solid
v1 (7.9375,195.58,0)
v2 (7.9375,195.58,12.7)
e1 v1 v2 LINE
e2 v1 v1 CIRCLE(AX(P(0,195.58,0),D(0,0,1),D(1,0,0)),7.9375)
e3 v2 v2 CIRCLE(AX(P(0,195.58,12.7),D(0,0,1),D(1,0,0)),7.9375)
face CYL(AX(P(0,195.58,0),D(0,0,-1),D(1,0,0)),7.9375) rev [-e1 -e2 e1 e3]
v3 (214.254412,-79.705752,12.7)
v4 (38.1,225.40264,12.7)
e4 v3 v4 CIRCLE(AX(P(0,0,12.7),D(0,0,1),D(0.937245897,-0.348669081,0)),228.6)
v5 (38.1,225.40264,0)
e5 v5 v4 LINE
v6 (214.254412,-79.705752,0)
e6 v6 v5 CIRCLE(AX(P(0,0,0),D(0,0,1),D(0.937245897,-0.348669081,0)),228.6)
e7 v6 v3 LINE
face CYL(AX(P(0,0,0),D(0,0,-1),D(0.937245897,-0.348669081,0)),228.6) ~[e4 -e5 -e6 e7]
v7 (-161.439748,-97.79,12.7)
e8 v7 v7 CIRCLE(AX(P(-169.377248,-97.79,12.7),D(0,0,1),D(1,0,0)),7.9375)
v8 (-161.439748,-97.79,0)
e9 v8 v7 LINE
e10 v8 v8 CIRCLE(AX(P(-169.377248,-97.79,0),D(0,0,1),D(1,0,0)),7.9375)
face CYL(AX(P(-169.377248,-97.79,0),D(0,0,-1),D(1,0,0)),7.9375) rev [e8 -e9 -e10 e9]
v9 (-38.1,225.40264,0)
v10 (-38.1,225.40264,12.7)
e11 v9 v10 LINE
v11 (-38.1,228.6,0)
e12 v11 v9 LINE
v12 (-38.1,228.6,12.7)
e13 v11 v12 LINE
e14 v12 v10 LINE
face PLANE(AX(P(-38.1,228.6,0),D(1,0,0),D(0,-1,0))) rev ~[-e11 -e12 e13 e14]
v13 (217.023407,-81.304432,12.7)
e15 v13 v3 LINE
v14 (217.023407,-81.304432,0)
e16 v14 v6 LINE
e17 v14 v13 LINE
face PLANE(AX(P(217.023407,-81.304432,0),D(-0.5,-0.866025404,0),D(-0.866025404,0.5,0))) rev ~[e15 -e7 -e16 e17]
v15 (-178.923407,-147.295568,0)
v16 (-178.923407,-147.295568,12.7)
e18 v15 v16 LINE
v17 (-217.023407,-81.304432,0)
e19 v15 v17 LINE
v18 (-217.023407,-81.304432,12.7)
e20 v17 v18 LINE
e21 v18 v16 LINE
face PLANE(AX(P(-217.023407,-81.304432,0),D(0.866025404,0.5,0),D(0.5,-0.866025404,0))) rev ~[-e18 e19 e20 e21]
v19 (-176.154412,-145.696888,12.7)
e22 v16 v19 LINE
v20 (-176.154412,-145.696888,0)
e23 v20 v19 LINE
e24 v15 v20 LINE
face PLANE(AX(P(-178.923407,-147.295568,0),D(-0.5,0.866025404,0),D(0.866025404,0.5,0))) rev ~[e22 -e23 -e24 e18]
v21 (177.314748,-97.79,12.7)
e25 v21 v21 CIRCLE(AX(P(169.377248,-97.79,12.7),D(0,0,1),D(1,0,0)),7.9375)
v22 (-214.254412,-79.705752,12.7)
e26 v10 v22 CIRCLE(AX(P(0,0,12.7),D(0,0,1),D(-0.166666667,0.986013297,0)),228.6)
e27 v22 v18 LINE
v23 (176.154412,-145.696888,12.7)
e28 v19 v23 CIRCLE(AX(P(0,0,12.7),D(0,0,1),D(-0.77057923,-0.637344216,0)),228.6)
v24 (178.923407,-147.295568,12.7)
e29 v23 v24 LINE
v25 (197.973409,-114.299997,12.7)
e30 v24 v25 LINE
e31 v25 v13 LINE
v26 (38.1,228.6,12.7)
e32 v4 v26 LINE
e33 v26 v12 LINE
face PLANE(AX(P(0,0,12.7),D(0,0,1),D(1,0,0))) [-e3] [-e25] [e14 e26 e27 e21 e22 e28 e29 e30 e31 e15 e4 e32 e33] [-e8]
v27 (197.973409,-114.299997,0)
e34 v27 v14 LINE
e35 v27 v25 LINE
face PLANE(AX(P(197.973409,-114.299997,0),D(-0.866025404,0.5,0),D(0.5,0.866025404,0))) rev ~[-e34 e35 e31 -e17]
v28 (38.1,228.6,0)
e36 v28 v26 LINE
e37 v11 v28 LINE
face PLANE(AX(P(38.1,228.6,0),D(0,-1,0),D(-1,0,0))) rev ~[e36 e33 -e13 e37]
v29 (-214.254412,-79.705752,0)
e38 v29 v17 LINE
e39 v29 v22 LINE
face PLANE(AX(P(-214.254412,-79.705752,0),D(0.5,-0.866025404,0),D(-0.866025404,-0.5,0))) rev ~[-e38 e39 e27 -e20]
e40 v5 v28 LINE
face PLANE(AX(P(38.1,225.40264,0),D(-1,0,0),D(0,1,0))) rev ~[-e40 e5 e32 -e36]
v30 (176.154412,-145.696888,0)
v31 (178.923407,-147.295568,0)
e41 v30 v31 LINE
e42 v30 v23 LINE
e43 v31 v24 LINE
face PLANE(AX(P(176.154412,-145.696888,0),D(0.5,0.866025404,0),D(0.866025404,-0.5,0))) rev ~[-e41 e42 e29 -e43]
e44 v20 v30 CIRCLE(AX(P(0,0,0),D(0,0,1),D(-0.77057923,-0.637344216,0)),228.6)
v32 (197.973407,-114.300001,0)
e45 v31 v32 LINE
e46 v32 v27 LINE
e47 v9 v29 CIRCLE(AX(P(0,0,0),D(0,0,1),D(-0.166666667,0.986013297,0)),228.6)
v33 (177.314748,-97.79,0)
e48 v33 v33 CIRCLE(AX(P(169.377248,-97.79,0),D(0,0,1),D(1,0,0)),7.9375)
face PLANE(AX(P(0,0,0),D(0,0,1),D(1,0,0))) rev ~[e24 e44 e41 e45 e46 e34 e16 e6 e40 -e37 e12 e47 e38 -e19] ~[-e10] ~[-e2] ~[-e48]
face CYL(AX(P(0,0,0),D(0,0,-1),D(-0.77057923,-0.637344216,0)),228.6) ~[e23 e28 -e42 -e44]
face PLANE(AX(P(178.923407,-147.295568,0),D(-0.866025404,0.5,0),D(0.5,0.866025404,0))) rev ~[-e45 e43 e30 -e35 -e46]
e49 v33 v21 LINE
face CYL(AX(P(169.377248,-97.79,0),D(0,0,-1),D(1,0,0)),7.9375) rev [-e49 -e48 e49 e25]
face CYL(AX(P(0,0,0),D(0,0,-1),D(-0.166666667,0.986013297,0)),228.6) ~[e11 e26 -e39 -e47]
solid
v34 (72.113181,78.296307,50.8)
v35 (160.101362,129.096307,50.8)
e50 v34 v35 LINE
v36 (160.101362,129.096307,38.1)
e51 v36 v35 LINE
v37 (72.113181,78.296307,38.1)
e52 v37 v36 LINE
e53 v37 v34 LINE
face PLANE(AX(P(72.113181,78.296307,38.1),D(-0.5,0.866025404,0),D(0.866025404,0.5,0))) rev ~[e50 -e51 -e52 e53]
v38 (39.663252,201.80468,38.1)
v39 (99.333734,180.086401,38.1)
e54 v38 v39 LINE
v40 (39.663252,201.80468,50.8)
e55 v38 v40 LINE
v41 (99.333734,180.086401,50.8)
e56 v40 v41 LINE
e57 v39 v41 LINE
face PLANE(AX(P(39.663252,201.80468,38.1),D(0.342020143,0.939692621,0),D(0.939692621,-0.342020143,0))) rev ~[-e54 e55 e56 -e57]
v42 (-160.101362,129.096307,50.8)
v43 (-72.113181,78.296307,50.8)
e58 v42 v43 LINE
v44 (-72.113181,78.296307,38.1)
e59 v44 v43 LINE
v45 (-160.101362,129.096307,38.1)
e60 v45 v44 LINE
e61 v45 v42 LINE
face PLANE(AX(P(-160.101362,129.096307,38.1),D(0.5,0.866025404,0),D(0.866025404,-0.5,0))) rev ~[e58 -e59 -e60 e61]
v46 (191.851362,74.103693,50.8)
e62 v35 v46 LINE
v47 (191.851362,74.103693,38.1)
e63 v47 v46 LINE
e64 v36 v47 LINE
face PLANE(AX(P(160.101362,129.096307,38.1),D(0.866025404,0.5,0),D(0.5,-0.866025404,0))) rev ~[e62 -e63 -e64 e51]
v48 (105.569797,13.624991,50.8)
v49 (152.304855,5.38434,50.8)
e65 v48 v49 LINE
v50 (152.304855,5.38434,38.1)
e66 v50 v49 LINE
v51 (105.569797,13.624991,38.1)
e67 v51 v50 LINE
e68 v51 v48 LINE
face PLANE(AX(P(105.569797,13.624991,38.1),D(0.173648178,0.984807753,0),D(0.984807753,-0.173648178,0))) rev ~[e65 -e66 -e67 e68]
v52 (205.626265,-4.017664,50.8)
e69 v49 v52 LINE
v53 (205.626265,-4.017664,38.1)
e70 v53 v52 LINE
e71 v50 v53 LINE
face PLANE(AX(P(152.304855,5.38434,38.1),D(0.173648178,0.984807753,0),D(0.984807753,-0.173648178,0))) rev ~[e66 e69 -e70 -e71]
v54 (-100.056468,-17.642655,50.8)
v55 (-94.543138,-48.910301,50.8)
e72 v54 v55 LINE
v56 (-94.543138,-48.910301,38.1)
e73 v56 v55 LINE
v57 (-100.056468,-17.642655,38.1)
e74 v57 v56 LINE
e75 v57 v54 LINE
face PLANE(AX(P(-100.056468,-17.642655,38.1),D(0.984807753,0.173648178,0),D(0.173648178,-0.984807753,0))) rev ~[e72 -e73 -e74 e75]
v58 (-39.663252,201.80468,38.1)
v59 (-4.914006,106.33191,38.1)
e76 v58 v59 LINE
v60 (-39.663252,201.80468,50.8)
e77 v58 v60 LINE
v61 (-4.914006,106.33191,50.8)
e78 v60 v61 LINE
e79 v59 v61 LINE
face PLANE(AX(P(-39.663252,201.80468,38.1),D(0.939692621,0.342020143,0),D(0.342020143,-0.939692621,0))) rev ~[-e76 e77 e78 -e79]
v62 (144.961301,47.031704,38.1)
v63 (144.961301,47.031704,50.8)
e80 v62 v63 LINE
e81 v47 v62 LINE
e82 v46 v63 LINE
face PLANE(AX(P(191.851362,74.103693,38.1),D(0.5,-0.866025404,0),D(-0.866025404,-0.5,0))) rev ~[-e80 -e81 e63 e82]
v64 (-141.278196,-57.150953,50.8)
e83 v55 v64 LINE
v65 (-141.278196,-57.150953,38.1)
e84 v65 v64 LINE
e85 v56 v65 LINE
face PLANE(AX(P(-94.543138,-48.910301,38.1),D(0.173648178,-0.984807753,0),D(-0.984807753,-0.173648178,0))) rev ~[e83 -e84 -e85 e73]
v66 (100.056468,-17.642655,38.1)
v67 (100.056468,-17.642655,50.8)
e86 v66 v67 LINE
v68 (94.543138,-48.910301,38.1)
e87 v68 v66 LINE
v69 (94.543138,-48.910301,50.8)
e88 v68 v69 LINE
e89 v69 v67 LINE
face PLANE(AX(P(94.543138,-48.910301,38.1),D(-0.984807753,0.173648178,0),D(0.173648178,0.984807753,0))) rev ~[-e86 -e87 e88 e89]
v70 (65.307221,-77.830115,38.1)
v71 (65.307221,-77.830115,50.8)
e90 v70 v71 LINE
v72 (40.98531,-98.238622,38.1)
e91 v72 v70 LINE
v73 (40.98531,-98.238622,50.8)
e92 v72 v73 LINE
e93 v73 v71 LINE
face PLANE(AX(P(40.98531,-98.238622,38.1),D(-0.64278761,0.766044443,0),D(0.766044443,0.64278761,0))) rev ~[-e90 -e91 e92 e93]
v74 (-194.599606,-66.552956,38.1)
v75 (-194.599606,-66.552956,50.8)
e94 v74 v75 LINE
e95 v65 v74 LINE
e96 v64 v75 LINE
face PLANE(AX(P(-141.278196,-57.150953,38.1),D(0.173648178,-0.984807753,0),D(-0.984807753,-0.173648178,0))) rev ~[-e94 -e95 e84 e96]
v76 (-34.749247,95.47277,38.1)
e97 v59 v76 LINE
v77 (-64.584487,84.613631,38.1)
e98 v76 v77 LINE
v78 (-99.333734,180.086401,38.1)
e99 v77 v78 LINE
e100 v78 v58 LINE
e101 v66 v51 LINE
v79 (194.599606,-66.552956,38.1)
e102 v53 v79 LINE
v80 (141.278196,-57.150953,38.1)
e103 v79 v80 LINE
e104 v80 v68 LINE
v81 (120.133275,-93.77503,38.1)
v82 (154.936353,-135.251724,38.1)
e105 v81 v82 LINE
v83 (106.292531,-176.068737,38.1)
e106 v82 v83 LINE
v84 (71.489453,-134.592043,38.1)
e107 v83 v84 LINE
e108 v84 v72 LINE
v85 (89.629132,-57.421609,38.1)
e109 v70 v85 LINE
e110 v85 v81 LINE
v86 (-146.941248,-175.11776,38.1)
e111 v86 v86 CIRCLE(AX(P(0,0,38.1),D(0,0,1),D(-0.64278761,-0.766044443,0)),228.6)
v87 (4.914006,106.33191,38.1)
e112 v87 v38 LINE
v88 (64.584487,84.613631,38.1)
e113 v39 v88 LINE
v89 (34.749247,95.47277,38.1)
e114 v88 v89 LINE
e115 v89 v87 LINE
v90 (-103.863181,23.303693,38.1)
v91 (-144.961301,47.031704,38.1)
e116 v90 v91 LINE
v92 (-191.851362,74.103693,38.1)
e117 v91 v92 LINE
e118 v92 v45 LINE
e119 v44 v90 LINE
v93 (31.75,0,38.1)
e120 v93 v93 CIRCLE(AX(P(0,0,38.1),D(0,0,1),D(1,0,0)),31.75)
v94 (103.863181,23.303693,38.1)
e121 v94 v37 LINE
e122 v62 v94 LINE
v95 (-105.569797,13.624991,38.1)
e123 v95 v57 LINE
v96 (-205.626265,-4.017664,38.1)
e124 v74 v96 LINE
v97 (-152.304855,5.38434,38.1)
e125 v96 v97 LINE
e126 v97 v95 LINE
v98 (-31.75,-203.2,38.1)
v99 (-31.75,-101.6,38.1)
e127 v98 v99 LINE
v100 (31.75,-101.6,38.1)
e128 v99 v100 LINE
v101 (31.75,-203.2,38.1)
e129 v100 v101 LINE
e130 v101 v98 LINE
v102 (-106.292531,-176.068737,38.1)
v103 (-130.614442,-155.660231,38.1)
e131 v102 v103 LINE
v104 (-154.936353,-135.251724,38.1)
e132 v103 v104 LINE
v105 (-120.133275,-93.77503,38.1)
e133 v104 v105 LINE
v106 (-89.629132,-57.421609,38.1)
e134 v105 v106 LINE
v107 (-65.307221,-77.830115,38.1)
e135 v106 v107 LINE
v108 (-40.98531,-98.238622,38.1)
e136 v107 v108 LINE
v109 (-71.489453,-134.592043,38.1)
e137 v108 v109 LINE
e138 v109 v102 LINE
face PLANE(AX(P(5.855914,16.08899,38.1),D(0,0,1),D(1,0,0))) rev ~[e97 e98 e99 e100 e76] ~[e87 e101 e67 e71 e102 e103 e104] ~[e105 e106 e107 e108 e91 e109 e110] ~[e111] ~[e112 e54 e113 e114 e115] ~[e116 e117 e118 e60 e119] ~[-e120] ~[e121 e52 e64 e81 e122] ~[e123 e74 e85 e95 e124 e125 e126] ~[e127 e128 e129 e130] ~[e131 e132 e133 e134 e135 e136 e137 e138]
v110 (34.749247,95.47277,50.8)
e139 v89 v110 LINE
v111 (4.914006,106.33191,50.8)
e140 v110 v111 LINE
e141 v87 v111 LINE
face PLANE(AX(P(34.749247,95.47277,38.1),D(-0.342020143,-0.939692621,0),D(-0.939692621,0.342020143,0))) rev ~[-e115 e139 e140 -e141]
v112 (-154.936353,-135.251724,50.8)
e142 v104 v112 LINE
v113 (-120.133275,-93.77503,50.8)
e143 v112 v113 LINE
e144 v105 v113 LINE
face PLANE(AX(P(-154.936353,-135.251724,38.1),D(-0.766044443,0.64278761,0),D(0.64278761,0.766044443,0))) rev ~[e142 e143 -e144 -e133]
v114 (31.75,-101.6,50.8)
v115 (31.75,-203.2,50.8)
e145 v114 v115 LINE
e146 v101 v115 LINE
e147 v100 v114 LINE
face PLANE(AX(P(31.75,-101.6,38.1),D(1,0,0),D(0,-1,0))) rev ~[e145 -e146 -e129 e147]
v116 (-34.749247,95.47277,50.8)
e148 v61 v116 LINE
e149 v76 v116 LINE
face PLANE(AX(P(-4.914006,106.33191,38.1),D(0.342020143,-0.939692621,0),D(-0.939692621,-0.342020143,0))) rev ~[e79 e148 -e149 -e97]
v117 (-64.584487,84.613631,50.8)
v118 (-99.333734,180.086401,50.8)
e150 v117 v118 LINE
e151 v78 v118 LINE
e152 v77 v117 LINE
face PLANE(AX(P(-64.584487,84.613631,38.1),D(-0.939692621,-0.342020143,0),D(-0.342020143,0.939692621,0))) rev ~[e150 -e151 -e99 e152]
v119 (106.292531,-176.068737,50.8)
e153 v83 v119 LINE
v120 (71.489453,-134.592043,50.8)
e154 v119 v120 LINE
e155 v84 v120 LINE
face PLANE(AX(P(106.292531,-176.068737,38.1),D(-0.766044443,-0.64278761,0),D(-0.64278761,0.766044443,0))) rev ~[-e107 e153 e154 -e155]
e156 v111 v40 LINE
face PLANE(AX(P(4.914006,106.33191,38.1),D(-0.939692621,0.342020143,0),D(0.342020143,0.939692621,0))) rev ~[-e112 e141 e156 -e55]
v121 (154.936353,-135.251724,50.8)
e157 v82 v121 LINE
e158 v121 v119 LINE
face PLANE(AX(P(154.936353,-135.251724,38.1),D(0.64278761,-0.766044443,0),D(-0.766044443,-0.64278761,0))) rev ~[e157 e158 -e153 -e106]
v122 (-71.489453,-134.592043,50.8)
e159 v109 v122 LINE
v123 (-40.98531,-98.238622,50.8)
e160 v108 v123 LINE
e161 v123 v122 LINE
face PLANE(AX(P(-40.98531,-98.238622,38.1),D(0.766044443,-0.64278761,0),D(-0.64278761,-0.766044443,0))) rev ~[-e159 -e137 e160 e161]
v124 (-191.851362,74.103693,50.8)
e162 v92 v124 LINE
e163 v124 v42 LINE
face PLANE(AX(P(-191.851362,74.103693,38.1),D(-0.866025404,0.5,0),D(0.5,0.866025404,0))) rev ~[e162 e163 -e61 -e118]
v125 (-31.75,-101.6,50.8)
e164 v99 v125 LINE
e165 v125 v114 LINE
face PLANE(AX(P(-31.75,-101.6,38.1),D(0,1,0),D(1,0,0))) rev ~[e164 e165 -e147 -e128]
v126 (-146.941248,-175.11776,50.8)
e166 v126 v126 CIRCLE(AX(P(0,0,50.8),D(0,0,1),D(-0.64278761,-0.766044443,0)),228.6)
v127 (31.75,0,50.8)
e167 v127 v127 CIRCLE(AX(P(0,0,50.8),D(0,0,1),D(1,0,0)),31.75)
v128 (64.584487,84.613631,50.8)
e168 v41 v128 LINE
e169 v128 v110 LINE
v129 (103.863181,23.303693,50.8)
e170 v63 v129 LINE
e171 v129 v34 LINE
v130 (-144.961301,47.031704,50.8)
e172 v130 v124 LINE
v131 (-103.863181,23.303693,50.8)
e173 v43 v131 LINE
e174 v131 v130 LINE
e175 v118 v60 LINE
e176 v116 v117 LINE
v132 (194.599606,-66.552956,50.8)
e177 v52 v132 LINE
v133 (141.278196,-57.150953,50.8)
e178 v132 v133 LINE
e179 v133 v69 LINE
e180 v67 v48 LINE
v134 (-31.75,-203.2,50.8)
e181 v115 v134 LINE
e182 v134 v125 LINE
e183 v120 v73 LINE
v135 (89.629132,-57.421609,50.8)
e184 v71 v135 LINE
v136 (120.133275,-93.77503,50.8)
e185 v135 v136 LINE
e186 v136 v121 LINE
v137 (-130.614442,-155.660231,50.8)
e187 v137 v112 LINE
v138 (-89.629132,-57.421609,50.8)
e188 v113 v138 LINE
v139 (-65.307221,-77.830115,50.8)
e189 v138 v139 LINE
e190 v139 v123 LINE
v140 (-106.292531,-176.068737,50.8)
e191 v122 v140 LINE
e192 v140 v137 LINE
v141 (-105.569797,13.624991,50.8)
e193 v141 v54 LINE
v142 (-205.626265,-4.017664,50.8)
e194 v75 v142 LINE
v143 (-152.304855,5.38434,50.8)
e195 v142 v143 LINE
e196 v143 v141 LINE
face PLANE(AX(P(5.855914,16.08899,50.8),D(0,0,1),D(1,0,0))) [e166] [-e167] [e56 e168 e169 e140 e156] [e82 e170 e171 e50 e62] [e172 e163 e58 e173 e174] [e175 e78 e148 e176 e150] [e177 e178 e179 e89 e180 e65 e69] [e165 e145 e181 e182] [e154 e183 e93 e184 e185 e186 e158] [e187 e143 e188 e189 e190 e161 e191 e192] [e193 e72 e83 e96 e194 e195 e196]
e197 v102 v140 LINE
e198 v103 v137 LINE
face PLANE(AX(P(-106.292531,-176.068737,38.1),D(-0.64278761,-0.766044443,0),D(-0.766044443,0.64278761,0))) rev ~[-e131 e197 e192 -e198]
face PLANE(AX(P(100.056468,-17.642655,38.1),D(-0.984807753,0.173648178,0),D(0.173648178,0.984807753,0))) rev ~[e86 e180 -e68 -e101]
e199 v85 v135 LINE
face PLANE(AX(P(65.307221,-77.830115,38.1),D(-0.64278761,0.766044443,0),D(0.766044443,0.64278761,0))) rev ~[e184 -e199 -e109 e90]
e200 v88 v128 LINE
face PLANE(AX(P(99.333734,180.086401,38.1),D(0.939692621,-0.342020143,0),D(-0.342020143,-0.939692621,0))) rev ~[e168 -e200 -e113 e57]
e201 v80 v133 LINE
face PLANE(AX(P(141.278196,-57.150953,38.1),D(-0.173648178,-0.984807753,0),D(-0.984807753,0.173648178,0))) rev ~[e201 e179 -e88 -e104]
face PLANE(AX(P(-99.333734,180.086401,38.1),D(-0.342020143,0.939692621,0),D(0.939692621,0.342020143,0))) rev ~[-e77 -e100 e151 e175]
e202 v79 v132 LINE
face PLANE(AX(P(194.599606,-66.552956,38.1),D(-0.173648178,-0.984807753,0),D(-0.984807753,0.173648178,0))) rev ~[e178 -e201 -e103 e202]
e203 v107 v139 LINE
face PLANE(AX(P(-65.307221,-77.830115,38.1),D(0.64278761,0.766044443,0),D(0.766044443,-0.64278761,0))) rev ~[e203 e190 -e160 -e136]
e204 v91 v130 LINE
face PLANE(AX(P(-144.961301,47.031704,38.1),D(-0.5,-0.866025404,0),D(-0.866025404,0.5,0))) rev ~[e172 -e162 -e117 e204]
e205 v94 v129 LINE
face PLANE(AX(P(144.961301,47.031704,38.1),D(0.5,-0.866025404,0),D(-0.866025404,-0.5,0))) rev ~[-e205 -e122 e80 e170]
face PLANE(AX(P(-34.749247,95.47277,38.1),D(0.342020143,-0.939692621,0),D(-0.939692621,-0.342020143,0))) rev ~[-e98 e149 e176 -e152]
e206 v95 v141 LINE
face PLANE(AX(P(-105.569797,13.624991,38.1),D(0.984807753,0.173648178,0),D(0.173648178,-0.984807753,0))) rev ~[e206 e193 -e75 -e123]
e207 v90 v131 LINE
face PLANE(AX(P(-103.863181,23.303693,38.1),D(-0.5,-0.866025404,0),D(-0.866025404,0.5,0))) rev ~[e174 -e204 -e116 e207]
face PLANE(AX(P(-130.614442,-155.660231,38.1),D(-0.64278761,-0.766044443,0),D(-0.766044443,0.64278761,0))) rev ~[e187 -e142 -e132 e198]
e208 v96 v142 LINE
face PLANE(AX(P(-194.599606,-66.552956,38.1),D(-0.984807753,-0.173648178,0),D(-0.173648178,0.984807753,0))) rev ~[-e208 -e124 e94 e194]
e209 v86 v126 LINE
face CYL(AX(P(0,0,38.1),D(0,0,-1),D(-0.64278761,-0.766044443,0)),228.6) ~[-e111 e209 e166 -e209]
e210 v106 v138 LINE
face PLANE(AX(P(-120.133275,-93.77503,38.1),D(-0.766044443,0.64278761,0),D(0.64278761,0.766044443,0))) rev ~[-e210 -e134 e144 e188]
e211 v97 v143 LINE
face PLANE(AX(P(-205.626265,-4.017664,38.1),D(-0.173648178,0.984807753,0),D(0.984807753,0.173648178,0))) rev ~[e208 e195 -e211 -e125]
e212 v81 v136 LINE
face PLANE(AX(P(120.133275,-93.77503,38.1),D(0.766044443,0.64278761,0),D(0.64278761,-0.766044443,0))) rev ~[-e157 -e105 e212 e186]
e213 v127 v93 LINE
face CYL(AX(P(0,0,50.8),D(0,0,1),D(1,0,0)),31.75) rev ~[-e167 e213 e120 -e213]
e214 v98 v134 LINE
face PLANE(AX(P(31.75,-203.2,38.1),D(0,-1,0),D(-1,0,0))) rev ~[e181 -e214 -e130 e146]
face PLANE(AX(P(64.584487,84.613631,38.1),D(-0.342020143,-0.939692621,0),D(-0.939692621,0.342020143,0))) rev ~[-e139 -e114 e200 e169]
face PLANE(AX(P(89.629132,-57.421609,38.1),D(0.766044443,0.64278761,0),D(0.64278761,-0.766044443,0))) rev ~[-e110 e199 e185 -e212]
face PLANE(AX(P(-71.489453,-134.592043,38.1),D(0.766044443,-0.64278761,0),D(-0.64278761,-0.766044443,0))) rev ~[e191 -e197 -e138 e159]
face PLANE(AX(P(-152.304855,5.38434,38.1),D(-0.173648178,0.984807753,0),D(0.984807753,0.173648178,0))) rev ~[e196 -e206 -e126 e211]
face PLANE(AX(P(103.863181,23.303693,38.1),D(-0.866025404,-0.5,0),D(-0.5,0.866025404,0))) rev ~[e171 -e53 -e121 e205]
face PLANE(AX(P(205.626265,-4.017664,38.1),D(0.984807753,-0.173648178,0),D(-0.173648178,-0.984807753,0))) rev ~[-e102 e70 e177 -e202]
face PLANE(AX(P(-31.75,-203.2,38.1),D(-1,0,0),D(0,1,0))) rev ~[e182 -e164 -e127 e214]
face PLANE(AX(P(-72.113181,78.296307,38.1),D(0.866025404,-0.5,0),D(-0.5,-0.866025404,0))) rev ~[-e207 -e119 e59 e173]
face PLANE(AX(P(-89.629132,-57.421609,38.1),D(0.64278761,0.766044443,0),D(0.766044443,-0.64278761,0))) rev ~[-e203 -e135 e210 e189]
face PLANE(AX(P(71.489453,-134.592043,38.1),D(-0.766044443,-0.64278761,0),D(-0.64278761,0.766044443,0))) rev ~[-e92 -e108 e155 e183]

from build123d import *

# Parameters (mm, degrees)
F0_R     = 7.9375
F1_DEPTH = 12.7
F2_R     = 7.9375
F3_DEPTH = 12.7
F6_DEPTH = 12.7
F7_R     = 31.75
F8_DEPTH = 25.4


with BuildPart() as f1:
    # F0 (on Top) → F1 (new body)
    with BuildSketch(Plane.XY):
        with BuildLine():
            Line((-38.1, 225.4026397361), (-38.1, 147.5606654905))
            ThreePointArc((-38.1, 147.5606654905), (-131.9822715367, 76.2), (-146.8412849141, -40.7847648611))
            Line((-146.8412849141, -40.7847648611), (-214.2544120915, -79.7057519839))
            ThreePointArc((-214.2544120915, -79.7057519839), (-206.8384260613, -97.343851909), (-197.9734085849, -114.2999977833))
            ThreePointArc((-197.9734085849, -114.2999977833), (-187.7214631468, -130.4554033915), (-176.1544120915, -145.6968877522))
            Line((-176.1544120915, -145.6968877522), (-108.7412849141, -106.7759006294))
            ThreePointArc((-108.7412849141, -106.7759006294), (0, -152.4), (108.7412849141, -106.7759006294))
            Line((108.7412849141, -106.7759006294), (176.1544120915, -145.6968877522))
            ThreePointArc((176.1544120915, -145.6968877522), (187.7214632552, -130.4554032355), (197.973408775, -114.2999974542))
            ThreePointArc((197.973408775, -114.2999974542), (206.8384261422, -97.343851737), (214.2544120915, -79.7057519839))
            Line((214.2544120915, -79.7057519839), (146.8412849141, -40.7847648611))
            ThreePointArc((146.8412849141, -40.7847648611), (131.9822715367, 76.2), (38.1, 147.5606654905))
            Line((38.1, 147.5606654905), (38.1, 225.4026397361))
            ThreePointArc((38.1, 225.4026397361), (19.1169634699, 227.7992574784), (7.425e-07, 228.6))
            ThreePointArc((7.425e-07, 228.6), (-19.11696273, 227.7992575405), (-38.1, 225.4026397361))
        make_face()
        with Locations((-169.3772484722, -97.79)):
            Circle(F0_R, mode=Mode.SUBTRACT)
        with Locations((169.3772484722, -97.79)):
            Circle(F0_R, mode=Mode.SUBTRACT)
        with Locations((0, 195.58)):
            Circle(F0_R, mode=Mode.SUBTRACT)
        with BuildLine():
            ThreePointArc((-146.8412849141, -40.7847648611), (-131.9822715367, 76.2), (-38.1, 147.5606654905))
            Line((-38.1, 147.5606654905), (-38.1, 225.4026397361))
            ThreePointArc((-38.1, 225.4026397361), (-197.9734073051, 114.3), (-214.2544120915, -79.7057519839))
            Line((-214.2544120915, -79.7057519839), (-146.8412849141, -40.7847648611))
        make_face()
        with BuildLine():
            Line((-38.1, 228.6), (-38.1, 225.4026397361))
            ThreePointArc((-38.1, 225.4026397361), (-19.11696273, 227.7992575405), (7.425e-07, 228.6))
            Line((7.425e-07, 228.6), (-38.1, 228.6))
        make_face()
        with BuildLine():
            ThreePointArc((-197.9734085849, -114.2999977833), (-206.8384260613, -97.343851909), (-214.2544120915, -79.7057519839))
            Line((-214.2544120915, -79.7057519839), (-217.0234073051, -81.3044321158))
            Line((-217.0234073051, -81.3044321158), (-197.9734085849, -114.2999977833))
        make_face()
        with BuildLine():
            Line((38.1, 228.6), (7.425e-07, 228.6))
            ThreePointArc((7.425e-07, 228.6), (19.1169634699, 227.7992574784), (38.1, 225.4026397361))
            Line((38.1, 225.4026397361), (38.1, 228.6))
        make_face()
        with BuildLine():
            ThreePointArc((-176.1544120915, -145.6968877522), (-187.7214631468, -130.4554033915), (-197.9734085849, -114.2999977833))
            Line((-197.9734085849, -114.2999977833), (-178.9234073051, -147.2955678842))
            Line((-178.9234073051, -147.2955678842), (-176.1544120915, -145.6968877522))
        make_face()
        with BuildLine():
            ThreePointArc((228.6, 0), (174.5961339778, 147.5606654905), (38.1, 225.4026397361))
            Line((38.1, 225.4026397361), (38.1, 147.5606654905))
            ThreePointArc((38.1, 147.5606654905), (131.9822715367, 76.2), (146.8412849141, -40.7847648611))
            Line((146.8412849141, -40.7847648611), (214.2544120915, -79.7057519839))
            ThreePointArc((214.2544120915, -79.7057519839), (224.9850201726, -40.4932179252), (228.6, 0))
        make_face()
        with BuildLine():
            Line((-108.7412849141, -106.7759006294), (-176.1544120915, -145.6968877522))
            ThreePointArc((-176.1544120915, -145.6968877522), (0, -228.6), (176.1544120915, -145.6968877522))
            Line((176.1544120915, -145.6968877522), (108.7412849141, -106.7759006294))
            ThreePointArc((108.7412849141, -106.7759006294), (0, -152.4), (-108.7412849141, -106.7759006294))
        make_face()
        with BuildLine():
            ThreePointArc((197.973408775, -114.2999974542), (187.7214632552, -130.4554032355), (176.1544120915, -145.6968877522))
            Line((176.1544120915, -145.6968877522), (178.9234073051, -147.2955678842))
            Line((178.9234073051, -147.2955678842), (197.973408775, -114.2999974542))
        make_face()
        with BuildLine():
            Line((217.0234073051, -81.3044321158), (214.2544120915, -79.7057519839))
            ThreePointArc((214.2544120915, -79.7057519839), (206.8384261422, -97.343851737), (197.973408775, -114.2999974542))
            Line((197.973408775, -114.2999974542), (217.0234073051, -81.3044321158))
        make_face()
    extrude(amount=F1_DEPTH)

    # F2 (on face) → F3 (join)
    with BuildSketch(Plane.XY.offset(12.7)):
        with BuildLine():
            ThreePointArc((214.2544120915, -79.7057519839), (224.9850201726, -40.4932179252), (228.6, 0))
            ThreePointArc((228.6, 0), (174.5961339778, 147.5606654905), (38.1, 225.4026397361))
            ThreePointArc((38.1, 225.4026397361), (19.1169634699, 227.7992574784), (7.425e-07, 228.6))
            ThreePointArc((7.425e-07, 228.6), (-19.11696273, 227.7992575405), (-38.1, 225.4026397361))
            ThreePointArc((-38.1, 225.4026397361), (-197.9734073051, 114.3), (-214.2544120915, -79.7057519839))
            ThreePointArc((-214.2544120915, -79.7057519839), (-206.8384257006, -97.3438526754), (-197.9734077379, -114.2999992504))
            ThreePointArc((-197.9734077379, -114.2999992504), (-187.7214626634, -130.4554040871), (-176.1544120915, -145.6968877522))
            ThreePointArc((-176.1544120915, -145.6968877522), (0, -228.6), (176.1544120915, -145.6968877522))
            ThreePointArc((176.1544120915, -145.6968877522), (187.7214619736, -130.4554050796), (197.9734065292, -114.3000013439))
            ThreePointArc((197.9734065292, -114.3000013439), (206.8384251859, -97.343853769), (214.2544120915, -79.7057519839))
        make_face()
        with Locations((-169.3772484722, -97.79)):
            Circle(F2_R, mode=Mode.SUBTRACT)
        with Locations((169.3772484722, -97.79)):
            Circle(F2_R, mode=Mode.SUBTRACT)
        Polygon((56.9597219464, 89.9039963502), (26.2960149824, 98.138063951), (-4.3721300023, 106.355568633), (21.9238849802, 204.4936325839), (83.2601749495, 188.0586232199), (56.9641599671, 89.920559269), align=None, mode=Mode.SUBTRACT)
        with Locations((0, 195.58)):
            Circle(F2_R, mode=Mode.SUBTRACT)
        Polygon((-4.3721300023, 106.355568633), (26.2960149824, 98.138063951), (56.9597219464, 89.9039963502), (56.9641599671, 89.920559269), (83.2601749495, 188.0586232199), (21.9238849802, 204.4936325839), align=None)
    extrude(amount=-F3_DEPTH)


with BuildPart() as f6:
    # F5 (on offset) → F6 (new body)
    with BuildSketch(Plane.XY.offset(38.1)):
        with BuildLine():
            ThreePointArc((0, -228.6), (161.6446101792, -161.6446101792), (228.6, 0))
            ThreePointArc((228.6, 0), (-96.6105346339, 207.1819601166), (-146.9412475743, -175.117759697))
            Line((-146.9412475743, -175.117759697), (-130.6144422883, -155.6602308418))
            Line((-130.6144422883, -155.6602308418), (-154.9363533573, -135.2517242342))
            Line((-154.9363533573, -135.2517242342), (-120.1332747405, -93.7750302593))
            ThreePointArc((-120.1332747405, -93.7750302593), (-131.9822715367, -76.2), (-141.2781958154, -57.1509526354))
            Line((-141.2781958154, -57.1509526354), (-194.5996057712, -66.5529558601))
            Line((-194.5996057712, -66.5529558601), (-205.626265053, -4.0176635438))
            Line((-205.626265053, -4.0176635438), (-152.3048550973, 5.3843396808))
            ThreePointArc((-152.3048550973, 5.3843396808), (-150.0847015591, 26.4639822764), (-144.9613010741, 47.0317041037))
            Line((-144.9613010741, 47.0317041037), (-191.851362049, 74.1036934298))
            Line((-191.851362049, 74.1036934298), (-160.101362049, 129.0963065702))
            Line((-160.101362049, 129.0963065702), (-113.2113010741, 102.024317244))
            ThreePointArc((-113.2113010741, 102.024317244), (-97.9608317162, 116.7451731313), (-80.8154024948, 129.2077037935))
            Line((-80.8154024948, 129.2077037935), (-99.3337338337, 180.0864009931))
            Line((-99.3337338337, 180.0864009931), (-39.6632524138, 201.8046800943))
            Line((-39.6632524138, 201.8046800943), (-21.1449210749, 150.9259828947))
            ThreePointArc((-21.1449210749, 150.9259828947), (0, 152.4), (21.1449210749, 150.9259828947))
            Line((21.1449210749, 150.9259828947), (39.6632524138, 201.8046800943))
            Line((39.6632524138, 201.8046800943), (99.3337338337, 180.0864009931))
            Line((99.3337338337, 180.0864009931), (80.8154024948, 129.2077037935))
            ThreePointArc((80.8154024948, 129.2077037935), (97.9608317162, 116.7451731313), (113.2113010741, 102.024317244))
            Line((113.2113010741, 102.024317244), (160.101362049, 129.0963065702))
            Line((160.101362049, 129.0963065702), (191.851362049, 74.1036934298))
            Line((191.851362049, 74.1036934298), (144.9613010741, 47.0317041037))
            ThreePointArc((144.9613010741, 47.0317041037), (150.0847015591, 26.4639822764), (152.3048550973, 5.3843396808))
            Line((152.3048550973, 5.3843396808), (205.626265053, -4.0176635438))
            Line((205.626265053, -4.0176635438), (194.5996057712, -66.5529558601))
            Line((194.5996057712, -66.5529558601), (141.2781958154, -57.1509526354))
            ThreePointArc((141.2781958154, -57.1509526354), (131.9822715368, -76.2), (120.1332747405, -93.7750302593))
            Line((120.1332747405, -93.7750302593), (154.9363533573, -135.2517242342))
            Line((154.9363533573, -135.2517242342), (106.2925312193, -176.0687374493))
            Line((106.2925312193, -176.0687374493), (71.4894526024, -134.5920434744))
            ThreePointArc((71.4894526024, -134.5920434744), (52.1238698428, -143.2091554078), (31.75, -149.0560213477))
            Line((31.75, -149.0560213477), (31.75, -203.2))
            Line((31.75, -203.2), (0, -203.2))
            Line((0, -203.2), (0, -228.6))
        make_face()
        with BuildLine():
            Line((-130.6144422883, -155.6602308418), (-146.9412475743, -175.117759697))
            ThreePointArc((-146.9412475743, -175.117759697), (-78.1858047642, -214.8137331117), (0, -228.6))
            Line((0, -228.6), (0, -203.2))
            Line((0, -203.2), (-31.75, -203.2))
            Line((-31.75, -203.2), (-31.75, -149.0560213477))
            ThreePointArc((-31.75, -149.0560213477), (-52.1238698428, -143.2091554078), (-71.4894526024, -134.5920434744))
            Line((-71.4894526024, -134.5920434744), (-106.2925312193, -176.0687374493))
            Line((-106.2925312193, -176.0687374493), (-130.6144422883, -155.6602308418))
        make_face()
        with BuildLine():
            Line((0, 0), (-65.3072211442, -77.8301154209))
            Line((-65.3072211442, -77.8301154209), (-40.9853100751, -98.2386220284))
            Line((-40.9853100751, -98.2386220284), (-71.4894526024, -134.5920434744))
            ThreePointArc((-71.4894526024, -134.5920434744), (-52.1238698428, -143.2091554078), (-31.75, -149.0560213477))
            Line((-31.75, -149.0560213477), (-31.75, -101.6))
            Line((-31.75, -101.6), (0, -101.6))
            Line((0, -101.6), (0, 0))
        make_face()
        with BuildLine():
            Line((-89.6291322132, -57.4216088133), (-65.3072211442, -77.8301154209))
            Line((-65.3072211442, -77.8301154209), (0, 0))
            Line((0, 0), (0, -101.6))
            Line((0, -101.6), (31.75, -101.6))
            Line((31.75, -101.6), (31.75, -149.0560213477))
            ThreePointArc((31.75, -149.0560213477), (52.1238698428, -143.2091554078), (71.4894526024, -134.5920434744))
            Line((71.4894526024, -134.5920434744), (40.9853100751, -98.2386220284))
            Line((40.9853100751, -98.2386220284), (65.3072211442, -77.8301154209))
            Line((65.3072211442, -77.8301154209), (89.6291322132, -57.4216088133))
            Line((89.6291322132, -57.4216088133), (120.1332747405, -93.7750302593))
            ThreePointArc((120.1332747405, -93.7750302593), (131.9822715368, -76.2), (141.2781958154, -57.1509526354))
            Line((141.2781958154, -57.1509526354), (94.5431380651, -48.9103010091))
            Line((94.5431380651, -48.9103010091), (100.056467706, -17.642654851))
            Line((100.056467706, -17.642654851), (105.569797347, 13.6249913072))
            Line((105.569797347, 13.6249913072), (152.3048550973, 5.3843396808))
            ThreePointArc((152.3048550973, 5.3843396808), (150.0847015591, 26.4639822764), (144.9613010741, 47.0317041037))
            Line((144.9613010741, 47.0317041037), (103.8631810245, 23.3036934298))
            Line((103.8631810245, 23.3036934298), (87.9881810245, 50.8))
            Line((87.9881810245, 50.8), (72.1131810245, 78.2963065702))
            Line((72.1131810245, 78.2963065702), (113.2113010741, 102.024317244))
            ThreePointArc((113.2113010741, 102.024317244), (97.9608317162, 116.7451731313), (80.8154024948, 129.2077037935))
            Line((80.8154024948, 129.2077037935), (64.5844872718, 84.6136307213))
            Line((64.5844872718, 84.6136307213), (34.7492465619, 95.4727702718))
            Line((34.7492465619, 95.4727702718), (4.9140058519, 106.3319098224))
            Line((4.9140058519, 106.3319098224), (21.1449210749, 150.9259828947))
            ThreePointArc((21.1449210749, 150.9259828947), (0, 152.4), (-21.1449210749, 150.9259828947))
            Line((-21.1449210749, 150.9259828947), (-4.9140058519, 106.3319098224))
            Line((-4.9140058519, 106.3319098224), (-34.7492465619, 95.4727702718))
            Line((-34.7492465619, 95.4727702718), (-64.5844872718, 84.6136307213))
            Line((-64.5844872718, 84.6136307213), (-80.8154024948, 129.2077037935))
            ThreePointArc((-80.8154024948, 129.2077037935), (-97.9608317162, 116.7451731313), (-113.2113010741, 102.024317244))
            Line((-113.2113010741, 102.024317244), (-72.1131810245, 78.2963065702))
            Line((-72.1131810245, 78.2963065702), (-87.9881810245, 50.8))
            Line((-87.9881810245, 50.8), (-103.8631810245, 23.3036934298))
            Line((-103.8631810245, 23.3036934298), (-144.9613010741, 47.0317041037))
            ThreePointArc((-144.9613010741, 47.0317041037), (-150.0847015591, 26.4639822764), (-152.3048550973, 5.3843396808))
            Line((-152.3048550973, 5.3843396808), (-105.569797347, 13.6249913072))
            Line((-105.569797347, 13.6249913072), (-100.056467706, -17.642654851))
            Line((-100.056467706, -17.642654851), (-94.5431380651, -48.9103010091))
            Line((-94.5431380651, -48.9103010091), (-141.2781958154, -57.1509526354))
            ThreePointArc((-141.2781958154, -57.1509526354), (-131.9822715367, -76.2), (-120.1332747405, -93.7750302593))
            Line((-120.1332747405, -93.7750302593), (-89.6291322132, -57.4216088133))
        make_face()
    extrude(amount=F6_DEPTH)

    # F7 (on face) → F8 (cut)
    with BuildSketch(Plane.XY.offset(50.8)):
        Circle(F7_R)
    extrude(amount=-F8_DEPTH, mode=Mode.SUBTRACT)


solid = Compound([f1.part, f6.part])
